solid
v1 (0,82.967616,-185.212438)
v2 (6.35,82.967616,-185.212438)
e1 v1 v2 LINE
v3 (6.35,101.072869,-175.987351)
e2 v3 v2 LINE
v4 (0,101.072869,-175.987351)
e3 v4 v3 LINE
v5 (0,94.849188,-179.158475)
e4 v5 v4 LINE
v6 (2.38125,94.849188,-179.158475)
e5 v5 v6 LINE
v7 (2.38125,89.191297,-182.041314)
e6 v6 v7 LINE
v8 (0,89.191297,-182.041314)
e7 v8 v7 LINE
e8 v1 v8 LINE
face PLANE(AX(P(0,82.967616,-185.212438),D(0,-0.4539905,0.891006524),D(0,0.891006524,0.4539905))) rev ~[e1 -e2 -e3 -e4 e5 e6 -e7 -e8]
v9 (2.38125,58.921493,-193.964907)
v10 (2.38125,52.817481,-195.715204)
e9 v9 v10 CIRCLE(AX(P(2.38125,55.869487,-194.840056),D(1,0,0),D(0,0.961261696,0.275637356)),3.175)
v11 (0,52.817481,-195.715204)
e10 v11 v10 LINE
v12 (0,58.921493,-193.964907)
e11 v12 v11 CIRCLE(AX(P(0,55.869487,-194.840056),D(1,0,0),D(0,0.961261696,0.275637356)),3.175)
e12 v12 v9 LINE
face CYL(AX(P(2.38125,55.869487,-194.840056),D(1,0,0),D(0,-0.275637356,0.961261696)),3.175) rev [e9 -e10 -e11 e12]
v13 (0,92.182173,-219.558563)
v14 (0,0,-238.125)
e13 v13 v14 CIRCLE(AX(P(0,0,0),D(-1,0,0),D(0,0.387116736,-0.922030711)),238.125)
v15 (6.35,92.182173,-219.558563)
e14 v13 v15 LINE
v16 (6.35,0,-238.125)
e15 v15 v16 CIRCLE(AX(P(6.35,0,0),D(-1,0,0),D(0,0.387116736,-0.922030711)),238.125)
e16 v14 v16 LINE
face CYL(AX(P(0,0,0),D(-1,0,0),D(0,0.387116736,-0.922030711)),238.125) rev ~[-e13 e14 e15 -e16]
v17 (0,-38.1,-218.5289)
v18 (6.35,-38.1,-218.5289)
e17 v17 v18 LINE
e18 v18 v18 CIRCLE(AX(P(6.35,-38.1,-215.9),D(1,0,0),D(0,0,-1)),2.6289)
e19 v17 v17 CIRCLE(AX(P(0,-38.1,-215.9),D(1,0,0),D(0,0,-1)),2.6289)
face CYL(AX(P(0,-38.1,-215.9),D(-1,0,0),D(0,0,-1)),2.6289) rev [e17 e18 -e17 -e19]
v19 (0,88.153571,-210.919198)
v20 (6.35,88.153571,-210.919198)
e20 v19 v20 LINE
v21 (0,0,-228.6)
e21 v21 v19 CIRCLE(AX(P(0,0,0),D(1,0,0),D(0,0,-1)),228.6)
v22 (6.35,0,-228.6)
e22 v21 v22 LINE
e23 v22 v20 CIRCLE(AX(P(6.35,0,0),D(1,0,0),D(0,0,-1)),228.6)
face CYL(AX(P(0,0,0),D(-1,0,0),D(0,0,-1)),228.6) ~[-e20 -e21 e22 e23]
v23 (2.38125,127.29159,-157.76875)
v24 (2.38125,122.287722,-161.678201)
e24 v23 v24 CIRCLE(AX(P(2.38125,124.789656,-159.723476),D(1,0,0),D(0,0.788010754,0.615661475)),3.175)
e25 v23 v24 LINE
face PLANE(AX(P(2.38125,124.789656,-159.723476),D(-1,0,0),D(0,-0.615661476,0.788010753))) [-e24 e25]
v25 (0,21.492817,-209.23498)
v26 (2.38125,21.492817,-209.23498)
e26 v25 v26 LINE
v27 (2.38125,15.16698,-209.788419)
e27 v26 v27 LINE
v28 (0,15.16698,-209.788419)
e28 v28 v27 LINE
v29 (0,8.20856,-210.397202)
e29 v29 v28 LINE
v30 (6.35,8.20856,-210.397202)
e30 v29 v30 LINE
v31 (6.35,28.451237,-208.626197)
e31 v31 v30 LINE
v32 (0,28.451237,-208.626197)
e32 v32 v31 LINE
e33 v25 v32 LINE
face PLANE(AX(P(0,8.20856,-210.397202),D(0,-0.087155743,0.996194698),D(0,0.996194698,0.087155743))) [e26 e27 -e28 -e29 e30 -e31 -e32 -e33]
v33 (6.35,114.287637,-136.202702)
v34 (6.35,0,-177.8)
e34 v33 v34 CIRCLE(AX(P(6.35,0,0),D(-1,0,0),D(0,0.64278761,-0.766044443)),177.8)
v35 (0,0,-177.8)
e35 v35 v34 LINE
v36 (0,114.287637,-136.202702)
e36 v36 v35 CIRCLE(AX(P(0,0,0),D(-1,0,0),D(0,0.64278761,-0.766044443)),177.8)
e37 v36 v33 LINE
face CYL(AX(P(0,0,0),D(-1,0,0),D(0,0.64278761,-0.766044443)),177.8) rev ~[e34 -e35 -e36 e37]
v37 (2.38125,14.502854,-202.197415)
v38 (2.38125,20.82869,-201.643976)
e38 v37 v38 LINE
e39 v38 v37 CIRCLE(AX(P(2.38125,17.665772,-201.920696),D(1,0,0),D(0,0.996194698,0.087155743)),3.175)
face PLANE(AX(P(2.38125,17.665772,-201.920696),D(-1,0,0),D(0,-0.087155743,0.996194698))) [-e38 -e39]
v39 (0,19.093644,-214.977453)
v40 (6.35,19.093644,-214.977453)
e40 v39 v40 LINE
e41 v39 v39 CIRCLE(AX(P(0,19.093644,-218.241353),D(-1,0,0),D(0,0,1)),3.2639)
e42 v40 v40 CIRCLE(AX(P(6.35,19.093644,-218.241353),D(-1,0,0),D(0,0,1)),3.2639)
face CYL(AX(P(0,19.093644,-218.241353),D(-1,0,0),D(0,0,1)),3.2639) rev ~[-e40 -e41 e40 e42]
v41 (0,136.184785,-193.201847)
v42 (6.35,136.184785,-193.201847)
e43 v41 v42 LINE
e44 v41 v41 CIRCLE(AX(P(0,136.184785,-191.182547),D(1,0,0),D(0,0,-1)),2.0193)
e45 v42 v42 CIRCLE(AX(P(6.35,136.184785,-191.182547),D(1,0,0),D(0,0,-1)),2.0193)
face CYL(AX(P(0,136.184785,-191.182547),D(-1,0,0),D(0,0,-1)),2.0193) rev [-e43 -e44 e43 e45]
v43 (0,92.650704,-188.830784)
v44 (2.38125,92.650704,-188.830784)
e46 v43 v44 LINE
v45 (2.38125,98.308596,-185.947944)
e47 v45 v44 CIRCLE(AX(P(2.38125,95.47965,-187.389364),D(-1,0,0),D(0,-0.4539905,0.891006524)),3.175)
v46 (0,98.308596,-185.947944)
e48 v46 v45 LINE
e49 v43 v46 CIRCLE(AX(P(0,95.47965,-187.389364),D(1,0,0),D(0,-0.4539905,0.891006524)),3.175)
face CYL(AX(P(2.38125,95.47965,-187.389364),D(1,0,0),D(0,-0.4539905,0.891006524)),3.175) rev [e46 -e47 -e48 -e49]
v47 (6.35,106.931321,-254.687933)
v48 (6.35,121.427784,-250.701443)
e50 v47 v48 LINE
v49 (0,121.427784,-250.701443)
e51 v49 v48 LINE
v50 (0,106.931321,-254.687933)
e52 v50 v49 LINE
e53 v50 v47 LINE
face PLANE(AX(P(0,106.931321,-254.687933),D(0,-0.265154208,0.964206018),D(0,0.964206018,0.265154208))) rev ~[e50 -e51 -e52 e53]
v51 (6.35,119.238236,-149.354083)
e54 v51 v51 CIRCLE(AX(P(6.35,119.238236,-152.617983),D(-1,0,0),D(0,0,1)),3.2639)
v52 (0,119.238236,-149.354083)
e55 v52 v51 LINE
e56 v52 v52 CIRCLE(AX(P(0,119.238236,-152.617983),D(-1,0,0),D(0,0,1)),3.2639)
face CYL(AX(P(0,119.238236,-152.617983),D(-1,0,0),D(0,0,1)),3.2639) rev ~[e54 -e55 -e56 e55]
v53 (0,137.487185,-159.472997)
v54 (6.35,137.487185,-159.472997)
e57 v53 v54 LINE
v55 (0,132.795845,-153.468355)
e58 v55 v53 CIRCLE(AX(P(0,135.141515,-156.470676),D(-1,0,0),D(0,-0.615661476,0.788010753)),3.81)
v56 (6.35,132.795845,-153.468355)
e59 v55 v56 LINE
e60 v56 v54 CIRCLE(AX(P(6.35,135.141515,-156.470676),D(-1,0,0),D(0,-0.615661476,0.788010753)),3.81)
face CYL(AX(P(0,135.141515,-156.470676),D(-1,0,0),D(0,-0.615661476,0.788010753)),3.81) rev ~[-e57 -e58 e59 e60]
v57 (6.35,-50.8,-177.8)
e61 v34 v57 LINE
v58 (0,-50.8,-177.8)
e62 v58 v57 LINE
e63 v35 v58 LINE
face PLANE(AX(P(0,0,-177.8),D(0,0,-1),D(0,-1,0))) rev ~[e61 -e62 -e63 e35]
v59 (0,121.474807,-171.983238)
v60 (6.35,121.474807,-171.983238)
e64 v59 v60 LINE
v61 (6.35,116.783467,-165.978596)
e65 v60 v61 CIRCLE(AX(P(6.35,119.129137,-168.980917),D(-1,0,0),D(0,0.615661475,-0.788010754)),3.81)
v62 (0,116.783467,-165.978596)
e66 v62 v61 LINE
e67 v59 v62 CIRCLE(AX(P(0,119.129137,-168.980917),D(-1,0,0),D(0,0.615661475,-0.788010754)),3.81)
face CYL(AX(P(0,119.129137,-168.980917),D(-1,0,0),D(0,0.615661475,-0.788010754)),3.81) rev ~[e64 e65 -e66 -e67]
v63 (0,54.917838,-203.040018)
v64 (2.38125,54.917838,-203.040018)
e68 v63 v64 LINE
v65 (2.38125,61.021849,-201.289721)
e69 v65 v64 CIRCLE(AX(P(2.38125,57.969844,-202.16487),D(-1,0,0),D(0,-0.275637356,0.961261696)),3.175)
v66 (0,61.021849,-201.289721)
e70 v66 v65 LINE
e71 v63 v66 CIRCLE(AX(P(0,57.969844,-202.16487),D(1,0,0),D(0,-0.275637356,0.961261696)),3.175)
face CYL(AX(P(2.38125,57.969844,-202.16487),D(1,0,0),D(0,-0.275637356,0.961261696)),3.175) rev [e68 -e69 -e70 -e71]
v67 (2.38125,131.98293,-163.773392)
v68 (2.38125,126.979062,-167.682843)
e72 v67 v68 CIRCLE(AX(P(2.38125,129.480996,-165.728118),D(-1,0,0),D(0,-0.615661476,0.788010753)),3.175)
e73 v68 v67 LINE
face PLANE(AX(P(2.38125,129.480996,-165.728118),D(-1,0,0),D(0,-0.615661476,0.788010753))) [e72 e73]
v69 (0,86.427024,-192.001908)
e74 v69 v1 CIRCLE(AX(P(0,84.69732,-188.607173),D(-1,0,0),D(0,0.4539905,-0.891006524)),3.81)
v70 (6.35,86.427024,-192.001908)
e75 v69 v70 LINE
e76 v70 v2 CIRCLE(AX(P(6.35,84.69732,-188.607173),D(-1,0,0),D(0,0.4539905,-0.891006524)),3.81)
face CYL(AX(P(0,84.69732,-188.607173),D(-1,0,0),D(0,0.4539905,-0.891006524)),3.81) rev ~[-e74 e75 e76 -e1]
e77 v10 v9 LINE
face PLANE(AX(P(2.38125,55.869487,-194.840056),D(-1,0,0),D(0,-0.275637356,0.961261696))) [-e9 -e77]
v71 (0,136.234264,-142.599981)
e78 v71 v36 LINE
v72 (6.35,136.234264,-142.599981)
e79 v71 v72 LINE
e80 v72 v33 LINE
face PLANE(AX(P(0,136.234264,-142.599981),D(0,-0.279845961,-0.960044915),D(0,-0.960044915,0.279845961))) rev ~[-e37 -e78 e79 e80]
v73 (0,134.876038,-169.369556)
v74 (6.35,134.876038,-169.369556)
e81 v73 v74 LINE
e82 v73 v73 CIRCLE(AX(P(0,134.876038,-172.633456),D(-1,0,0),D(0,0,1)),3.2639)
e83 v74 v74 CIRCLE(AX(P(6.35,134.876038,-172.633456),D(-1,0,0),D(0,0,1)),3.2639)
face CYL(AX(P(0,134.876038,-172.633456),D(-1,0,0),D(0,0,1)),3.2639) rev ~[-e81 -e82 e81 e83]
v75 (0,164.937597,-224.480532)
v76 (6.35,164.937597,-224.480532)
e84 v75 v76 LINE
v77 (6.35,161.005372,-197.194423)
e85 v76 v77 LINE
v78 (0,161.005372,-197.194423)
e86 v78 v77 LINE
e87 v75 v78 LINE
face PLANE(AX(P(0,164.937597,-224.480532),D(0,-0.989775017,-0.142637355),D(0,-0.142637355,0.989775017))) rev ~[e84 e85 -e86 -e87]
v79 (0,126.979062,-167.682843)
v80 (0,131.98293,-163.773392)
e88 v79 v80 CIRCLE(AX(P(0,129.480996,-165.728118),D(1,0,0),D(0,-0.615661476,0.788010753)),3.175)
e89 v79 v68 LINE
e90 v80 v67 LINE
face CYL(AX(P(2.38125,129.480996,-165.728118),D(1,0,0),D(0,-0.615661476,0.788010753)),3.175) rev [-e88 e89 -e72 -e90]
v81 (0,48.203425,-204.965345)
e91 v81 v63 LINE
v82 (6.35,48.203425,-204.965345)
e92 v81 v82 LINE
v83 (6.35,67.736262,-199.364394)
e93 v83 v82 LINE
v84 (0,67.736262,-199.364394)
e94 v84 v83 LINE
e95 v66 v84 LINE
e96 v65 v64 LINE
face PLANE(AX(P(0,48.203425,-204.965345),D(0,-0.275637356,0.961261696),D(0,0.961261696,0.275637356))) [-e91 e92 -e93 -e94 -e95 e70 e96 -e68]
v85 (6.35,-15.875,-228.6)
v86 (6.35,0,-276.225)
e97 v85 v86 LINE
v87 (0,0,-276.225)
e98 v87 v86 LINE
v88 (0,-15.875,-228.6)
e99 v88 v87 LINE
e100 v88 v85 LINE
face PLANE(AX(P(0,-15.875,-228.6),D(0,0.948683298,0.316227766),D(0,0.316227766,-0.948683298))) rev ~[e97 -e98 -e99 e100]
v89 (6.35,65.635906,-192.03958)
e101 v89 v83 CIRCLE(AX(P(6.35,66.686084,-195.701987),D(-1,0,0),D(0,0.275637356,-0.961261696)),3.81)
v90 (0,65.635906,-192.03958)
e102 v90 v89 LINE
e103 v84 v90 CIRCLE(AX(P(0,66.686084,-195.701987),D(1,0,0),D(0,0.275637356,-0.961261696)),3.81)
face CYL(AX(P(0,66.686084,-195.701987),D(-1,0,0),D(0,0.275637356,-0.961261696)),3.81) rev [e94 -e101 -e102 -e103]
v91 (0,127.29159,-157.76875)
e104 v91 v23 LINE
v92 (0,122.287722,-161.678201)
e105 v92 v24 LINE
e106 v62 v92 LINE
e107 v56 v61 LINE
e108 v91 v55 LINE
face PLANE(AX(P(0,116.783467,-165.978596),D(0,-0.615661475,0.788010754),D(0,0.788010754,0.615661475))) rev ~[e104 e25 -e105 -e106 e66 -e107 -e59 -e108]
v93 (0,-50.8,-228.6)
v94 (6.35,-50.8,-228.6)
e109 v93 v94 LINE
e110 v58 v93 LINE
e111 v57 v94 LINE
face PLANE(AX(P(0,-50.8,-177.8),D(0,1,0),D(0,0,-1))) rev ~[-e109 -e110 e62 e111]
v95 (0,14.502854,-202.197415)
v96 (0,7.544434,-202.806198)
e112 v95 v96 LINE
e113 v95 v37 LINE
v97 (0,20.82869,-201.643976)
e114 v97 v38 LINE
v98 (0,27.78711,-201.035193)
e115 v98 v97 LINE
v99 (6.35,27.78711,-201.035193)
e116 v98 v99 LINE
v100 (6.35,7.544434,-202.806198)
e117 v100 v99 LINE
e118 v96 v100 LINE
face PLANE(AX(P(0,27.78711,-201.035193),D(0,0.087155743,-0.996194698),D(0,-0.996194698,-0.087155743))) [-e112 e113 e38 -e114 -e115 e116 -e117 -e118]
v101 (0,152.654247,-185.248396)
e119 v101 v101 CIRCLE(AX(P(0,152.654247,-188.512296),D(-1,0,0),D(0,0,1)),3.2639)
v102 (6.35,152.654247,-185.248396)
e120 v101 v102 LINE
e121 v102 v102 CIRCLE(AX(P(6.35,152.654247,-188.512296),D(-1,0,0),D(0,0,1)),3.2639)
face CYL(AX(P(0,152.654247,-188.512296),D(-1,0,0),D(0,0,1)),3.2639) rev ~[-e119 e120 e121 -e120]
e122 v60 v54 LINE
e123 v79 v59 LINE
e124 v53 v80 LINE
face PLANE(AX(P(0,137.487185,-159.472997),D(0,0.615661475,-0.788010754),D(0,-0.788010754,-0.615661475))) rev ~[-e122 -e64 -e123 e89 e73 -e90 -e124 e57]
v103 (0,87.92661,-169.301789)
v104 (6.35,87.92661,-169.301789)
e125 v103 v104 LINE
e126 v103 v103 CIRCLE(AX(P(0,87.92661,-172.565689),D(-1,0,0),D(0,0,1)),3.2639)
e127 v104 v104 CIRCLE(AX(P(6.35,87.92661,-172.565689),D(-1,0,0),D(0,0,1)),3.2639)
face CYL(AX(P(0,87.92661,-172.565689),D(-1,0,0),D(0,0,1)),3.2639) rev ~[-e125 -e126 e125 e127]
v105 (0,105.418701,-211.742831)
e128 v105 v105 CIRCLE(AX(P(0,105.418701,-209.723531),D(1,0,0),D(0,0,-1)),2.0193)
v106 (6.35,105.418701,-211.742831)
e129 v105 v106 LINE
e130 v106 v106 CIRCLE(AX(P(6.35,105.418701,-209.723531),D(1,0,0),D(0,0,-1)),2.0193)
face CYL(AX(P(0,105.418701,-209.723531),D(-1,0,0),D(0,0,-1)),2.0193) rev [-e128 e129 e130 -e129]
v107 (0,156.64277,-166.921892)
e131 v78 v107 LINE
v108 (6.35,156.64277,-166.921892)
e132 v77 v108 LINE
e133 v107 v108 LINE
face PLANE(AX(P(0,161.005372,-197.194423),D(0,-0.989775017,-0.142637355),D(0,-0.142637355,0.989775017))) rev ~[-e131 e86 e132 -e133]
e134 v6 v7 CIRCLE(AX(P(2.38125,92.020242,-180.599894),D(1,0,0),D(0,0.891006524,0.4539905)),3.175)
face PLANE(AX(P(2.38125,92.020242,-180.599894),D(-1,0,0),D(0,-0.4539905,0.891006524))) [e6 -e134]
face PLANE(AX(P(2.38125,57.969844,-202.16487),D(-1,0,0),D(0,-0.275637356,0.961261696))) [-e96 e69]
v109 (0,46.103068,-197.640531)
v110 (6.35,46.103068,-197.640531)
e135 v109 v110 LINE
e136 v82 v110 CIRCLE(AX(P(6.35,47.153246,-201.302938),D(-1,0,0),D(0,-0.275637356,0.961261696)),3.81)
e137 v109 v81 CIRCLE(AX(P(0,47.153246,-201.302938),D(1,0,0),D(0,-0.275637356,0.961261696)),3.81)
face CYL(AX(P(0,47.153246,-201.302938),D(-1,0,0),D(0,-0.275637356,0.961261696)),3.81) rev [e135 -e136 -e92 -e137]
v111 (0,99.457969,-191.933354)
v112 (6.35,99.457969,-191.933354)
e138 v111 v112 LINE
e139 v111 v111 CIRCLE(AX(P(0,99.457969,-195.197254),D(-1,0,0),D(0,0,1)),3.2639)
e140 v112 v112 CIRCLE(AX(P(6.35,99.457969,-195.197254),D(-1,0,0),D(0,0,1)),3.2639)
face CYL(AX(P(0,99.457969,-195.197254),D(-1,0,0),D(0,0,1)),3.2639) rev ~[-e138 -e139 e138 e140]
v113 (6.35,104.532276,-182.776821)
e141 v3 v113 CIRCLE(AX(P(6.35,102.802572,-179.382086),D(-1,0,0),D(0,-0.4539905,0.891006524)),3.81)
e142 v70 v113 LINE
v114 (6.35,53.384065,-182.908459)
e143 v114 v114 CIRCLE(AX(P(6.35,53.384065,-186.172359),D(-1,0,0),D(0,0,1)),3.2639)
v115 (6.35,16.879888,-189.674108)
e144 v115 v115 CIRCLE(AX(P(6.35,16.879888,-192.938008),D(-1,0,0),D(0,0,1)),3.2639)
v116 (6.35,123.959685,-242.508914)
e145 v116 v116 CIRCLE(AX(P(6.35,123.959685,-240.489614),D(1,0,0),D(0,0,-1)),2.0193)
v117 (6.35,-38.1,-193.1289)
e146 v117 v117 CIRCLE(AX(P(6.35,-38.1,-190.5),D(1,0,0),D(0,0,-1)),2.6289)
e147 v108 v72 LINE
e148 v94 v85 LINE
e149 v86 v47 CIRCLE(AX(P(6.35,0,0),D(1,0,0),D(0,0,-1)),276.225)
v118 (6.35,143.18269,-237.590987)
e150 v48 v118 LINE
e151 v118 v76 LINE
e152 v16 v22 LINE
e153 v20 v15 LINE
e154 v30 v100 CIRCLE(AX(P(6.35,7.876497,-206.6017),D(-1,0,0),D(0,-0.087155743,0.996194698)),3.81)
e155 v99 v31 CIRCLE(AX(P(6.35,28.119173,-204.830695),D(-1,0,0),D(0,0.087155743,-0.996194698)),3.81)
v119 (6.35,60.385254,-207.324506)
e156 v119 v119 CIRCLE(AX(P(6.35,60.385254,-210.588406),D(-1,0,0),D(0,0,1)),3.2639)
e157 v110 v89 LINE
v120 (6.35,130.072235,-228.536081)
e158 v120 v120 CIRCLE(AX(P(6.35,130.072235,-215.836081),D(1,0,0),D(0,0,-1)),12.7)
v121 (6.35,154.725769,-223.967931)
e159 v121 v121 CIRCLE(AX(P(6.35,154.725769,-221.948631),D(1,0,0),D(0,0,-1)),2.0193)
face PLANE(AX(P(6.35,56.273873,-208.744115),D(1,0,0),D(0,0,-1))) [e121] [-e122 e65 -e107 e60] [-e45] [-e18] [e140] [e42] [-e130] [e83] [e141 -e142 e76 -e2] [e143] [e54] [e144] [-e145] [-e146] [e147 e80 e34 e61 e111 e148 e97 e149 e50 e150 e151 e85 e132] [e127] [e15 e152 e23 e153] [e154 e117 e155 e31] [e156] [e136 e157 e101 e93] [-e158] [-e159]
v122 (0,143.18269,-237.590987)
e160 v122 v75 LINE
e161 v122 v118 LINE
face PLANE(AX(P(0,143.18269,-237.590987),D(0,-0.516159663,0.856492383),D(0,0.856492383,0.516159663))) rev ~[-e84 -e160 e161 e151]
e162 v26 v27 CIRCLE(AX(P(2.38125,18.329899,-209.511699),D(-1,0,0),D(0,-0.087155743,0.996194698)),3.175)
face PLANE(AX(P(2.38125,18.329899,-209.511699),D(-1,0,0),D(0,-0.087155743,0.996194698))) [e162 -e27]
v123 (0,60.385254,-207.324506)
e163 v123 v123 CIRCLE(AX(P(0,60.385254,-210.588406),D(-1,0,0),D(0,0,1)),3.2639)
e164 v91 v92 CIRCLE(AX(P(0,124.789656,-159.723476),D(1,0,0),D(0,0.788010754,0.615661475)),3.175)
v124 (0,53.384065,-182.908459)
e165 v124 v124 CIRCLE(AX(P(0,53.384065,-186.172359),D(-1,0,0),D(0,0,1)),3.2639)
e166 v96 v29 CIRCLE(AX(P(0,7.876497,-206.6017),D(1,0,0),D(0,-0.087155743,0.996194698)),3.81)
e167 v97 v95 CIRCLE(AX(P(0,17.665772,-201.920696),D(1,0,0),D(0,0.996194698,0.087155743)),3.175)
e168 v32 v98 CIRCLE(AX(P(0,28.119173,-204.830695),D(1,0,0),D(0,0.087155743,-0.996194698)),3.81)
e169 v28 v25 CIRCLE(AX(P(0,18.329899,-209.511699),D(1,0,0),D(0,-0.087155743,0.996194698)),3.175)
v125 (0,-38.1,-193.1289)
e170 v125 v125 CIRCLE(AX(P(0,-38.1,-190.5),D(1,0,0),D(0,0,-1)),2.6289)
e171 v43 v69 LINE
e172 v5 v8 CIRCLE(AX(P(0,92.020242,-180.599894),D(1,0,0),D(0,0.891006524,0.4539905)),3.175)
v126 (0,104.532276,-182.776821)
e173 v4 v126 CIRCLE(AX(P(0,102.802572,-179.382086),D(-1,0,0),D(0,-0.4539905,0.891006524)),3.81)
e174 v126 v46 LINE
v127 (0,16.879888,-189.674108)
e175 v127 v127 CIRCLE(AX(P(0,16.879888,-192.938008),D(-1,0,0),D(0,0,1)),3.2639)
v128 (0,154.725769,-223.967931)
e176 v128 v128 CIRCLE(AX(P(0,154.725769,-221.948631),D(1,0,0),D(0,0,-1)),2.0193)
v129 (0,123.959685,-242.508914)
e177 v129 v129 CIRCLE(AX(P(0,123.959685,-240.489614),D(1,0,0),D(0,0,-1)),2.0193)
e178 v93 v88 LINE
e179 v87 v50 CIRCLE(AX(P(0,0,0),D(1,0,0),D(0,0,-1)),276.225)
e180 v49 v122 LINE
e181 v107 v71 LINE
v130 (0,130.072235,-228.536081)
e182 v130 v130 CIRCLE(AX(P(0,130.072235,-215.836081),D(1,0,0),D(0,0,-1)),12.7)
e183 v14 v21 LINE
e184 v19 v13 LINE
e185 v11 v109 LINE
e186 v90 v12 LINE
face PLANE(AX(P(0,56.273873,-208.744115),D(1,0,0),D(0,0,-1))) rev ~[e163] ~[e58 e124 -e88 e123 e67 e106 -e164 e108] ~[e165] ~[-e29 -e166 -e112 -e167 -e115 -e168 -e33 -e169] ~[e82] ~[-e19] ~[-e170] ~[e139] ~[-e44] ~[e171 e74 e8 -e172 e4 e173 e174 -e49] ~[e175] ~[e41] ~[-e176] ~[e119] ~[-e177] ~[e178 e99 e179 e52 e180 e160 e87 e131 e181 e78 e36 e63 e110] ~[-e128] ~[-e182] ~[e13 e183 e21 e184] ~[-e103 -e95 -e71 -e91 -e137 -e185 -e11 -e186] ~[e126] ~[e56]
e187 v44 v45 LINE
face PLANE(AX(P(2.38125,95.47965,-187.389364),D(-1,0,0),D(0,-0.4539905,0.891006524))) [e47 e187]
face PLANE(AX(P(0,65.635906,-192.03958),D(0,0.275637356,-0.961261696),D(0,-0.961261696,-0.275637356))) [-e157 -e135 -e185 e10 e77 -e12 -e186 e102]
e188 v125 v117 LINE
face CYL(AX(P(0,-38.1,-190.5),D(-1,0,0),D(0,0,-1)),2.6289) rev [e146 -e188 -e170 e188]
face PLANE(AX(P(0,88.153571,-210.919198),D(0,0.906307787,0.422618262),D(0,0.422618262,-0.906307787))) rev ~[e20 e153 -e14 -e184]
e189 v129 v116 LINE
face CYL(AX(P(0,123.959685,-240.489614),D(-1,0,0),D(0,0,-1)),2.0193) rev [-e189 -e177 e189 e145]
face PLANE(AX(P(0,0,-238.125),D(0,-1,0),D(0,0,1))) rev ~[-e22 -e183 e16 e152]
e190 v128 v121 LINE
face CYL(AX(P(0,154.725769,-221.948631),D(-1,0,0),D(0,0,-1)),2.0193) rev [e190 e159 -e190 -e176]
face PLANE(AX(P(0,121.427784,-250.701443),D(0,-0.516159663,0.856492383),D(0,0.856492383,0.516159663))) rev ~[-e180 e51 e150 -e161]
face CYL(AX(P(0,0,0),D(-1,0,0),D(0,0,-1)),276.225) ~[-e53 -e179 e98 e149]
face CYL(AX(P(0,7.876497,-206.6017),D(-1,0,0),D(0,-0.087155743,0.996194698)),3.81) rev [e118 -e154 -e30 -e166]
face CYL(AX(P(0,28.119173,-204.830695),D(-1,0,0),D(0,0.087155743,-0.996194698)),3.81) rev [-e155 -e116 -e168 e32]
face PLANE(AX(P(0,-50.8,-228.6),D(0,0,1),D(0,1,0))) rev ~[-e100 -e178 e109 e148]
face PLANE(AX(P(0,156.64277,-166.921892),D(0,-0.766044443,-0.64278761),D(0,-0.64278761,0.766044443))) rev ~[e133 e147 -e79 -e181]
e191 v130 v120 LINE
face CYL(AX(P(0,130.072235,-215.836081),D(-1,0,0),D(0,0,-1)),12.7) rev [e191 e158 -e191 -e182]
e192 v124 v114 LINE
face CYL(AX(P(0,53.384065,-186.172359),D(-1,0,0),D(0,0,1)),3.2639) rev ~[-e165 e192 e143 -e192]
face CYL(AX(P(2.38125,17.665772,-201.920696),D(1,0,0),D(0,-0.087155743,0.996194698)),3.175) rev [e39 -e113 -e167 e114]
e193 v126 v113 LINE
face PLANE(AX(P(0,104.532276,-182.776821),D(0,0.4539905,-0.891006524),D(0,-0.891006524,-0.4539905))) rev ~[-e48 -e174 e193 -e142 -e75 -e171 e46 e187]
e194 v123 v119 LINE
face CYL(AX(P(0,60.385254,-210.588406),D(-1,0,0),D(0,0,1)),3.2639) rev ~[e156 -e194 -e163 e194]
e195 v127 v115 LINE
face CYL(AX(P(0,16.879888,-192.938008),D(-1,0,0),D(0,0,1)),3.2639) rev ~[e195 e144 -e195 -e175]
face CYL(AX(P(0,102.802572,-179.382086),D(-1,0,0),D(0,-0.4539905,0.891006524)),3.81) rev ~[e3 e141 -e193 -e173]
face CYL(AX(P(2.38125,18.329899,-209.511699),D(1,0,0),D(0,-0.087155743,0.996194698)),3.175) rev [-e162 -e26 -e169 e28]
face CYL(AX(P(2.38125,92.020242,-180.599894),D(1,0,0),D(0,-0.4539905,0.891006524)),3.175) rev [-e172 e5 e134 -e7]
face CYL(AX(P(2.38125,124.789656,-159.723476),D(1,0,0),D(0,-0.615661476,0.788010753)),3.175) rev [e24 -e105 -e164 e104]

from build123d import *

# Parameters (mm, degrees)
SKETCH1_R           = 2.6289
SKETCH1_R_2         = 2.0193
SKETCH1_R_3         = 12.7
BOSS_EXTRUDE1_DEPTH = 6.35
SKETCH8_R           = 3.2639
CUT_EXTRUDE1_DEPTH  = 7.35
CUT_EXTRUDE2_START  = -2.38125
SKETCH9_R           = 3.175
CUT_EXTRUDE2_DEPTH  = 12.41425
CIRPATTERN1_COUNT   = 4
CIRPATTERN1_ANGLE   = 33
SKETCH10_R          = 3.2639
CUT_EXTRUDE3_DEPTH  = 7.35


with BuildPart() as part:
    # Sketch1 → Boss-Extrude1 (new body)
    with BuildSketch(Plane(origin=(0, 0, 0), x_dir=(0, 0, -1), z_dir=(1, 0, 0))):
        with BuildLine():
            ThreePointArc((136.202701987, 114.287637002), (167.077347976, 60.811181483), (177.8, 0))
            Line((177.8, 0), (177.8, -50.8))
            Line((177.8, -50.8), (228.6, -50.8))
            Line((228.6, -50.8), (228.6, -15.875))
            Line((228.6, -15.875), (276.225, 0))
            ThreePointArc((276.225, 0), (270.787208867, 54.539326538), (254.687933194, 106.93132053))
            Line((254.687933194, 106.93132053), (250.70144255, 121.427783901))
            Line((250.70144255, 121.427783901), (237.590987118, 143.182690436))
            Line((237.590987118, 143.182690436), (224.480531685, 164.937596971))
            Line((224.480531685, 164.937596971), (197.194423369, 161.00537172))
            Line((197.194423369, 161.00537172), (166.921891726, 156.642770358))
            Line((166.921891726, 156.642770358), (142.599980657, 136.23426375))
            Line((142.599980657, 136.23426375), (136.202701987, 114.287637002))
        make_face()
        with Locations((190.5, -38.1)):
            Circle(SKETCH1_R, mode=Mode.SUBTRACT)
        with Locations((215.9, -38.1)):
            Circle(SKETCH1_R, mode=Mode.SUBTRACT)
        with BuildLine():
            Line((210.919197755, 88.15357065), (219.558563098, 92.182172871))
            ThreePointArc((219.558563098, 92.182172871), (233.437249023, 47.016660809), (238.125, 0))
            Line((238.125, 0), (228.6, 0))
            ThreePointArc((228.6, 0), (224.136218188, 44.954595945), (210.919197755, 88.15357065))
        make_face(mode=Mode.SUBTRACT)
        with Locations((191.182546707, 136.184784997)):
            Circle(SKETCH1_R_2, mode=Mode.SUBTRACT)
        with Locations((209.723530589, 105.418701127)):
            Circle(SKETCH1_R_2, mode=Mode.SUBTRACT)
        with Locations((215.836080583, 130.072235003)):
            Circle(SKETCH1_R_3, mode=Mode.SUBTRACT)
        with Locations((240.489614459, 123.959685009)):
            Circle(SKETCH1_R_2, mode=Mode.SUBTRACT)
        with Locations((221.948630577, 154.725768879)):
            Circle(SKETCH1_R_2, mode=Mode.SUBTRACT)
    extrude(amount=BOSS_EXTRUDE1_DEPTH)

    # Sketch8 → Cut-Extrude1 (cut, through all)
    with BuildSketch(Plane.ZY):
        with Locations((-218.241353484, 19.093644342)):
            Circle(SKETCH8_R)
        with Locations((-192.938008153, 16.879888477)):
            Circle(SKETCH8_R)
        with Locations((-210.588406038, 60.385253726)):
            Circle(SKETCH8_R)
        with Locations((-186.172358961, 53.384064888)):
            Circle(SKETCH8_R)
        with Locations((-195.197254287, 99.45796873)):
            Circle(SKETCH8_R)
        with Locations((-172.565688572, 87.926610037)):
            Circle(SKETCH8_R)
        with Locations((-172.633455846, 134.876037707)):
            Circle(SKETCH8_R)
        with Locations((-152.617982705, 119.238236234)):
            Circle(SKETCH8_R)
        with BuildLine():
            Line((-201.035193399, 27.787109942), (-202.806198092, 7.544433676))
            ThreePointArc((-202.806198092, 7.544433676), (-206.933763272, 4.080995257), (-210.397201691, 8.208560436))
            Line((-210.397201691, 8.208560436), (-208.626196999, 28.451236701))
            ThreePointArc((-208.626196999, 28.451236701), (-204.498631819, 31.914675121), (-201.035193399, 27.787109942))
        make_face()
        with BuildLine():
            Line((-192.039580138, 65.635905756), (-197.640531208, 46.103068095))
            ThreePointArc((-197.640531208, 46.103068095), (-202.353116595, 43.490839359), (-204.965345331, 48.203424746))
            Line((-204.965345331, 48.203424746), (-199.364394261, 67.736262407))
            ThreePointArc((-199.364394261, 67.736262407), (-194.651808874, 70.348491143), (-192.039580138, 65.635905756))
        make_face()
        with BuildLine():
            Line((-182.776820638, 104.532276267), (-192.001907592, 86.427023695))
            ThreePointArc((-192.001907592, 86.427023695), (-190.336876539, 81.302585034), (-185.212437878, 82.967616087))
            Line((-185.212437878, 82.967616087), (-175.987350923, 101.072868659))
            ThreePointArc((-175.987350923, 101.072868659), (-177.652381977, 106.19730732), (-182.776820638, 104.532276267))
        make_face()
        with BuildLine():
            Line((-159.472997023, 137.487185455), (-171.983238202, 121.474806942))
            ThreePointArc((-171.983238202, 121.474806942), (-171.326587452, 116.12681575), (-165.978596259, 116.7834665))
            Line((-165.978596259, 116.7834665), (-153.468355081, 132.795845013))
            ThreePointArc((-153.468355081, 132.795845013), (-154.125005831, 138.143836206), (-159.472997023, 137.487185455))
        make_face()
    extrude(amount=-CUT_EXTRUDE1_DEPTH, mode=Mode.SUBTRACT)

    # Sketch9 → Cut-Extrude2 (cut)
    with BuildSketch(Plane(origin=(0, 18.329898569, -209.511699345), x_dir=(0, -0.087155743, 0.996194698), z_dir=(-1, 0, 0)).offset(CUT_EXTRUDE2_START)):
        Circle(SKETCH9_R)
        with Locations((7.62, 0)):
            Circle(SKETCH9_R)
    cut_extrude2 = extrude(amount=CUT_EXTRUDE2_DEPTH, mode=Mode.SUBTRACT)

    # CirPattern1: Cut-Extrude2 ×4 about axis
    cirpattern1_axis = Axis((0, 0, 0), (1, 0, 0))
    for i in range(1, CIRPATTERN1_COUNT):
        add(cut_extrude2.rotate(cirpattern1_axis, i * CIRPATTERN1_ANGLE / (CIRPATTERN1_COUNT - 1)), mode=Mode.SUBTRACT)

    # Sketch10 → Cut-Extrude3 (cut, through all)
    with BuildSketch(Plane.ZY):
        with Locations((-188.512295871, 152.654247257)):
            Circle(SKETCH10_R)
    extrude(amount=-CUT_EXTRUDE3_DEPTH, mode=Mode.SUBTRACT)


solid = part.part
